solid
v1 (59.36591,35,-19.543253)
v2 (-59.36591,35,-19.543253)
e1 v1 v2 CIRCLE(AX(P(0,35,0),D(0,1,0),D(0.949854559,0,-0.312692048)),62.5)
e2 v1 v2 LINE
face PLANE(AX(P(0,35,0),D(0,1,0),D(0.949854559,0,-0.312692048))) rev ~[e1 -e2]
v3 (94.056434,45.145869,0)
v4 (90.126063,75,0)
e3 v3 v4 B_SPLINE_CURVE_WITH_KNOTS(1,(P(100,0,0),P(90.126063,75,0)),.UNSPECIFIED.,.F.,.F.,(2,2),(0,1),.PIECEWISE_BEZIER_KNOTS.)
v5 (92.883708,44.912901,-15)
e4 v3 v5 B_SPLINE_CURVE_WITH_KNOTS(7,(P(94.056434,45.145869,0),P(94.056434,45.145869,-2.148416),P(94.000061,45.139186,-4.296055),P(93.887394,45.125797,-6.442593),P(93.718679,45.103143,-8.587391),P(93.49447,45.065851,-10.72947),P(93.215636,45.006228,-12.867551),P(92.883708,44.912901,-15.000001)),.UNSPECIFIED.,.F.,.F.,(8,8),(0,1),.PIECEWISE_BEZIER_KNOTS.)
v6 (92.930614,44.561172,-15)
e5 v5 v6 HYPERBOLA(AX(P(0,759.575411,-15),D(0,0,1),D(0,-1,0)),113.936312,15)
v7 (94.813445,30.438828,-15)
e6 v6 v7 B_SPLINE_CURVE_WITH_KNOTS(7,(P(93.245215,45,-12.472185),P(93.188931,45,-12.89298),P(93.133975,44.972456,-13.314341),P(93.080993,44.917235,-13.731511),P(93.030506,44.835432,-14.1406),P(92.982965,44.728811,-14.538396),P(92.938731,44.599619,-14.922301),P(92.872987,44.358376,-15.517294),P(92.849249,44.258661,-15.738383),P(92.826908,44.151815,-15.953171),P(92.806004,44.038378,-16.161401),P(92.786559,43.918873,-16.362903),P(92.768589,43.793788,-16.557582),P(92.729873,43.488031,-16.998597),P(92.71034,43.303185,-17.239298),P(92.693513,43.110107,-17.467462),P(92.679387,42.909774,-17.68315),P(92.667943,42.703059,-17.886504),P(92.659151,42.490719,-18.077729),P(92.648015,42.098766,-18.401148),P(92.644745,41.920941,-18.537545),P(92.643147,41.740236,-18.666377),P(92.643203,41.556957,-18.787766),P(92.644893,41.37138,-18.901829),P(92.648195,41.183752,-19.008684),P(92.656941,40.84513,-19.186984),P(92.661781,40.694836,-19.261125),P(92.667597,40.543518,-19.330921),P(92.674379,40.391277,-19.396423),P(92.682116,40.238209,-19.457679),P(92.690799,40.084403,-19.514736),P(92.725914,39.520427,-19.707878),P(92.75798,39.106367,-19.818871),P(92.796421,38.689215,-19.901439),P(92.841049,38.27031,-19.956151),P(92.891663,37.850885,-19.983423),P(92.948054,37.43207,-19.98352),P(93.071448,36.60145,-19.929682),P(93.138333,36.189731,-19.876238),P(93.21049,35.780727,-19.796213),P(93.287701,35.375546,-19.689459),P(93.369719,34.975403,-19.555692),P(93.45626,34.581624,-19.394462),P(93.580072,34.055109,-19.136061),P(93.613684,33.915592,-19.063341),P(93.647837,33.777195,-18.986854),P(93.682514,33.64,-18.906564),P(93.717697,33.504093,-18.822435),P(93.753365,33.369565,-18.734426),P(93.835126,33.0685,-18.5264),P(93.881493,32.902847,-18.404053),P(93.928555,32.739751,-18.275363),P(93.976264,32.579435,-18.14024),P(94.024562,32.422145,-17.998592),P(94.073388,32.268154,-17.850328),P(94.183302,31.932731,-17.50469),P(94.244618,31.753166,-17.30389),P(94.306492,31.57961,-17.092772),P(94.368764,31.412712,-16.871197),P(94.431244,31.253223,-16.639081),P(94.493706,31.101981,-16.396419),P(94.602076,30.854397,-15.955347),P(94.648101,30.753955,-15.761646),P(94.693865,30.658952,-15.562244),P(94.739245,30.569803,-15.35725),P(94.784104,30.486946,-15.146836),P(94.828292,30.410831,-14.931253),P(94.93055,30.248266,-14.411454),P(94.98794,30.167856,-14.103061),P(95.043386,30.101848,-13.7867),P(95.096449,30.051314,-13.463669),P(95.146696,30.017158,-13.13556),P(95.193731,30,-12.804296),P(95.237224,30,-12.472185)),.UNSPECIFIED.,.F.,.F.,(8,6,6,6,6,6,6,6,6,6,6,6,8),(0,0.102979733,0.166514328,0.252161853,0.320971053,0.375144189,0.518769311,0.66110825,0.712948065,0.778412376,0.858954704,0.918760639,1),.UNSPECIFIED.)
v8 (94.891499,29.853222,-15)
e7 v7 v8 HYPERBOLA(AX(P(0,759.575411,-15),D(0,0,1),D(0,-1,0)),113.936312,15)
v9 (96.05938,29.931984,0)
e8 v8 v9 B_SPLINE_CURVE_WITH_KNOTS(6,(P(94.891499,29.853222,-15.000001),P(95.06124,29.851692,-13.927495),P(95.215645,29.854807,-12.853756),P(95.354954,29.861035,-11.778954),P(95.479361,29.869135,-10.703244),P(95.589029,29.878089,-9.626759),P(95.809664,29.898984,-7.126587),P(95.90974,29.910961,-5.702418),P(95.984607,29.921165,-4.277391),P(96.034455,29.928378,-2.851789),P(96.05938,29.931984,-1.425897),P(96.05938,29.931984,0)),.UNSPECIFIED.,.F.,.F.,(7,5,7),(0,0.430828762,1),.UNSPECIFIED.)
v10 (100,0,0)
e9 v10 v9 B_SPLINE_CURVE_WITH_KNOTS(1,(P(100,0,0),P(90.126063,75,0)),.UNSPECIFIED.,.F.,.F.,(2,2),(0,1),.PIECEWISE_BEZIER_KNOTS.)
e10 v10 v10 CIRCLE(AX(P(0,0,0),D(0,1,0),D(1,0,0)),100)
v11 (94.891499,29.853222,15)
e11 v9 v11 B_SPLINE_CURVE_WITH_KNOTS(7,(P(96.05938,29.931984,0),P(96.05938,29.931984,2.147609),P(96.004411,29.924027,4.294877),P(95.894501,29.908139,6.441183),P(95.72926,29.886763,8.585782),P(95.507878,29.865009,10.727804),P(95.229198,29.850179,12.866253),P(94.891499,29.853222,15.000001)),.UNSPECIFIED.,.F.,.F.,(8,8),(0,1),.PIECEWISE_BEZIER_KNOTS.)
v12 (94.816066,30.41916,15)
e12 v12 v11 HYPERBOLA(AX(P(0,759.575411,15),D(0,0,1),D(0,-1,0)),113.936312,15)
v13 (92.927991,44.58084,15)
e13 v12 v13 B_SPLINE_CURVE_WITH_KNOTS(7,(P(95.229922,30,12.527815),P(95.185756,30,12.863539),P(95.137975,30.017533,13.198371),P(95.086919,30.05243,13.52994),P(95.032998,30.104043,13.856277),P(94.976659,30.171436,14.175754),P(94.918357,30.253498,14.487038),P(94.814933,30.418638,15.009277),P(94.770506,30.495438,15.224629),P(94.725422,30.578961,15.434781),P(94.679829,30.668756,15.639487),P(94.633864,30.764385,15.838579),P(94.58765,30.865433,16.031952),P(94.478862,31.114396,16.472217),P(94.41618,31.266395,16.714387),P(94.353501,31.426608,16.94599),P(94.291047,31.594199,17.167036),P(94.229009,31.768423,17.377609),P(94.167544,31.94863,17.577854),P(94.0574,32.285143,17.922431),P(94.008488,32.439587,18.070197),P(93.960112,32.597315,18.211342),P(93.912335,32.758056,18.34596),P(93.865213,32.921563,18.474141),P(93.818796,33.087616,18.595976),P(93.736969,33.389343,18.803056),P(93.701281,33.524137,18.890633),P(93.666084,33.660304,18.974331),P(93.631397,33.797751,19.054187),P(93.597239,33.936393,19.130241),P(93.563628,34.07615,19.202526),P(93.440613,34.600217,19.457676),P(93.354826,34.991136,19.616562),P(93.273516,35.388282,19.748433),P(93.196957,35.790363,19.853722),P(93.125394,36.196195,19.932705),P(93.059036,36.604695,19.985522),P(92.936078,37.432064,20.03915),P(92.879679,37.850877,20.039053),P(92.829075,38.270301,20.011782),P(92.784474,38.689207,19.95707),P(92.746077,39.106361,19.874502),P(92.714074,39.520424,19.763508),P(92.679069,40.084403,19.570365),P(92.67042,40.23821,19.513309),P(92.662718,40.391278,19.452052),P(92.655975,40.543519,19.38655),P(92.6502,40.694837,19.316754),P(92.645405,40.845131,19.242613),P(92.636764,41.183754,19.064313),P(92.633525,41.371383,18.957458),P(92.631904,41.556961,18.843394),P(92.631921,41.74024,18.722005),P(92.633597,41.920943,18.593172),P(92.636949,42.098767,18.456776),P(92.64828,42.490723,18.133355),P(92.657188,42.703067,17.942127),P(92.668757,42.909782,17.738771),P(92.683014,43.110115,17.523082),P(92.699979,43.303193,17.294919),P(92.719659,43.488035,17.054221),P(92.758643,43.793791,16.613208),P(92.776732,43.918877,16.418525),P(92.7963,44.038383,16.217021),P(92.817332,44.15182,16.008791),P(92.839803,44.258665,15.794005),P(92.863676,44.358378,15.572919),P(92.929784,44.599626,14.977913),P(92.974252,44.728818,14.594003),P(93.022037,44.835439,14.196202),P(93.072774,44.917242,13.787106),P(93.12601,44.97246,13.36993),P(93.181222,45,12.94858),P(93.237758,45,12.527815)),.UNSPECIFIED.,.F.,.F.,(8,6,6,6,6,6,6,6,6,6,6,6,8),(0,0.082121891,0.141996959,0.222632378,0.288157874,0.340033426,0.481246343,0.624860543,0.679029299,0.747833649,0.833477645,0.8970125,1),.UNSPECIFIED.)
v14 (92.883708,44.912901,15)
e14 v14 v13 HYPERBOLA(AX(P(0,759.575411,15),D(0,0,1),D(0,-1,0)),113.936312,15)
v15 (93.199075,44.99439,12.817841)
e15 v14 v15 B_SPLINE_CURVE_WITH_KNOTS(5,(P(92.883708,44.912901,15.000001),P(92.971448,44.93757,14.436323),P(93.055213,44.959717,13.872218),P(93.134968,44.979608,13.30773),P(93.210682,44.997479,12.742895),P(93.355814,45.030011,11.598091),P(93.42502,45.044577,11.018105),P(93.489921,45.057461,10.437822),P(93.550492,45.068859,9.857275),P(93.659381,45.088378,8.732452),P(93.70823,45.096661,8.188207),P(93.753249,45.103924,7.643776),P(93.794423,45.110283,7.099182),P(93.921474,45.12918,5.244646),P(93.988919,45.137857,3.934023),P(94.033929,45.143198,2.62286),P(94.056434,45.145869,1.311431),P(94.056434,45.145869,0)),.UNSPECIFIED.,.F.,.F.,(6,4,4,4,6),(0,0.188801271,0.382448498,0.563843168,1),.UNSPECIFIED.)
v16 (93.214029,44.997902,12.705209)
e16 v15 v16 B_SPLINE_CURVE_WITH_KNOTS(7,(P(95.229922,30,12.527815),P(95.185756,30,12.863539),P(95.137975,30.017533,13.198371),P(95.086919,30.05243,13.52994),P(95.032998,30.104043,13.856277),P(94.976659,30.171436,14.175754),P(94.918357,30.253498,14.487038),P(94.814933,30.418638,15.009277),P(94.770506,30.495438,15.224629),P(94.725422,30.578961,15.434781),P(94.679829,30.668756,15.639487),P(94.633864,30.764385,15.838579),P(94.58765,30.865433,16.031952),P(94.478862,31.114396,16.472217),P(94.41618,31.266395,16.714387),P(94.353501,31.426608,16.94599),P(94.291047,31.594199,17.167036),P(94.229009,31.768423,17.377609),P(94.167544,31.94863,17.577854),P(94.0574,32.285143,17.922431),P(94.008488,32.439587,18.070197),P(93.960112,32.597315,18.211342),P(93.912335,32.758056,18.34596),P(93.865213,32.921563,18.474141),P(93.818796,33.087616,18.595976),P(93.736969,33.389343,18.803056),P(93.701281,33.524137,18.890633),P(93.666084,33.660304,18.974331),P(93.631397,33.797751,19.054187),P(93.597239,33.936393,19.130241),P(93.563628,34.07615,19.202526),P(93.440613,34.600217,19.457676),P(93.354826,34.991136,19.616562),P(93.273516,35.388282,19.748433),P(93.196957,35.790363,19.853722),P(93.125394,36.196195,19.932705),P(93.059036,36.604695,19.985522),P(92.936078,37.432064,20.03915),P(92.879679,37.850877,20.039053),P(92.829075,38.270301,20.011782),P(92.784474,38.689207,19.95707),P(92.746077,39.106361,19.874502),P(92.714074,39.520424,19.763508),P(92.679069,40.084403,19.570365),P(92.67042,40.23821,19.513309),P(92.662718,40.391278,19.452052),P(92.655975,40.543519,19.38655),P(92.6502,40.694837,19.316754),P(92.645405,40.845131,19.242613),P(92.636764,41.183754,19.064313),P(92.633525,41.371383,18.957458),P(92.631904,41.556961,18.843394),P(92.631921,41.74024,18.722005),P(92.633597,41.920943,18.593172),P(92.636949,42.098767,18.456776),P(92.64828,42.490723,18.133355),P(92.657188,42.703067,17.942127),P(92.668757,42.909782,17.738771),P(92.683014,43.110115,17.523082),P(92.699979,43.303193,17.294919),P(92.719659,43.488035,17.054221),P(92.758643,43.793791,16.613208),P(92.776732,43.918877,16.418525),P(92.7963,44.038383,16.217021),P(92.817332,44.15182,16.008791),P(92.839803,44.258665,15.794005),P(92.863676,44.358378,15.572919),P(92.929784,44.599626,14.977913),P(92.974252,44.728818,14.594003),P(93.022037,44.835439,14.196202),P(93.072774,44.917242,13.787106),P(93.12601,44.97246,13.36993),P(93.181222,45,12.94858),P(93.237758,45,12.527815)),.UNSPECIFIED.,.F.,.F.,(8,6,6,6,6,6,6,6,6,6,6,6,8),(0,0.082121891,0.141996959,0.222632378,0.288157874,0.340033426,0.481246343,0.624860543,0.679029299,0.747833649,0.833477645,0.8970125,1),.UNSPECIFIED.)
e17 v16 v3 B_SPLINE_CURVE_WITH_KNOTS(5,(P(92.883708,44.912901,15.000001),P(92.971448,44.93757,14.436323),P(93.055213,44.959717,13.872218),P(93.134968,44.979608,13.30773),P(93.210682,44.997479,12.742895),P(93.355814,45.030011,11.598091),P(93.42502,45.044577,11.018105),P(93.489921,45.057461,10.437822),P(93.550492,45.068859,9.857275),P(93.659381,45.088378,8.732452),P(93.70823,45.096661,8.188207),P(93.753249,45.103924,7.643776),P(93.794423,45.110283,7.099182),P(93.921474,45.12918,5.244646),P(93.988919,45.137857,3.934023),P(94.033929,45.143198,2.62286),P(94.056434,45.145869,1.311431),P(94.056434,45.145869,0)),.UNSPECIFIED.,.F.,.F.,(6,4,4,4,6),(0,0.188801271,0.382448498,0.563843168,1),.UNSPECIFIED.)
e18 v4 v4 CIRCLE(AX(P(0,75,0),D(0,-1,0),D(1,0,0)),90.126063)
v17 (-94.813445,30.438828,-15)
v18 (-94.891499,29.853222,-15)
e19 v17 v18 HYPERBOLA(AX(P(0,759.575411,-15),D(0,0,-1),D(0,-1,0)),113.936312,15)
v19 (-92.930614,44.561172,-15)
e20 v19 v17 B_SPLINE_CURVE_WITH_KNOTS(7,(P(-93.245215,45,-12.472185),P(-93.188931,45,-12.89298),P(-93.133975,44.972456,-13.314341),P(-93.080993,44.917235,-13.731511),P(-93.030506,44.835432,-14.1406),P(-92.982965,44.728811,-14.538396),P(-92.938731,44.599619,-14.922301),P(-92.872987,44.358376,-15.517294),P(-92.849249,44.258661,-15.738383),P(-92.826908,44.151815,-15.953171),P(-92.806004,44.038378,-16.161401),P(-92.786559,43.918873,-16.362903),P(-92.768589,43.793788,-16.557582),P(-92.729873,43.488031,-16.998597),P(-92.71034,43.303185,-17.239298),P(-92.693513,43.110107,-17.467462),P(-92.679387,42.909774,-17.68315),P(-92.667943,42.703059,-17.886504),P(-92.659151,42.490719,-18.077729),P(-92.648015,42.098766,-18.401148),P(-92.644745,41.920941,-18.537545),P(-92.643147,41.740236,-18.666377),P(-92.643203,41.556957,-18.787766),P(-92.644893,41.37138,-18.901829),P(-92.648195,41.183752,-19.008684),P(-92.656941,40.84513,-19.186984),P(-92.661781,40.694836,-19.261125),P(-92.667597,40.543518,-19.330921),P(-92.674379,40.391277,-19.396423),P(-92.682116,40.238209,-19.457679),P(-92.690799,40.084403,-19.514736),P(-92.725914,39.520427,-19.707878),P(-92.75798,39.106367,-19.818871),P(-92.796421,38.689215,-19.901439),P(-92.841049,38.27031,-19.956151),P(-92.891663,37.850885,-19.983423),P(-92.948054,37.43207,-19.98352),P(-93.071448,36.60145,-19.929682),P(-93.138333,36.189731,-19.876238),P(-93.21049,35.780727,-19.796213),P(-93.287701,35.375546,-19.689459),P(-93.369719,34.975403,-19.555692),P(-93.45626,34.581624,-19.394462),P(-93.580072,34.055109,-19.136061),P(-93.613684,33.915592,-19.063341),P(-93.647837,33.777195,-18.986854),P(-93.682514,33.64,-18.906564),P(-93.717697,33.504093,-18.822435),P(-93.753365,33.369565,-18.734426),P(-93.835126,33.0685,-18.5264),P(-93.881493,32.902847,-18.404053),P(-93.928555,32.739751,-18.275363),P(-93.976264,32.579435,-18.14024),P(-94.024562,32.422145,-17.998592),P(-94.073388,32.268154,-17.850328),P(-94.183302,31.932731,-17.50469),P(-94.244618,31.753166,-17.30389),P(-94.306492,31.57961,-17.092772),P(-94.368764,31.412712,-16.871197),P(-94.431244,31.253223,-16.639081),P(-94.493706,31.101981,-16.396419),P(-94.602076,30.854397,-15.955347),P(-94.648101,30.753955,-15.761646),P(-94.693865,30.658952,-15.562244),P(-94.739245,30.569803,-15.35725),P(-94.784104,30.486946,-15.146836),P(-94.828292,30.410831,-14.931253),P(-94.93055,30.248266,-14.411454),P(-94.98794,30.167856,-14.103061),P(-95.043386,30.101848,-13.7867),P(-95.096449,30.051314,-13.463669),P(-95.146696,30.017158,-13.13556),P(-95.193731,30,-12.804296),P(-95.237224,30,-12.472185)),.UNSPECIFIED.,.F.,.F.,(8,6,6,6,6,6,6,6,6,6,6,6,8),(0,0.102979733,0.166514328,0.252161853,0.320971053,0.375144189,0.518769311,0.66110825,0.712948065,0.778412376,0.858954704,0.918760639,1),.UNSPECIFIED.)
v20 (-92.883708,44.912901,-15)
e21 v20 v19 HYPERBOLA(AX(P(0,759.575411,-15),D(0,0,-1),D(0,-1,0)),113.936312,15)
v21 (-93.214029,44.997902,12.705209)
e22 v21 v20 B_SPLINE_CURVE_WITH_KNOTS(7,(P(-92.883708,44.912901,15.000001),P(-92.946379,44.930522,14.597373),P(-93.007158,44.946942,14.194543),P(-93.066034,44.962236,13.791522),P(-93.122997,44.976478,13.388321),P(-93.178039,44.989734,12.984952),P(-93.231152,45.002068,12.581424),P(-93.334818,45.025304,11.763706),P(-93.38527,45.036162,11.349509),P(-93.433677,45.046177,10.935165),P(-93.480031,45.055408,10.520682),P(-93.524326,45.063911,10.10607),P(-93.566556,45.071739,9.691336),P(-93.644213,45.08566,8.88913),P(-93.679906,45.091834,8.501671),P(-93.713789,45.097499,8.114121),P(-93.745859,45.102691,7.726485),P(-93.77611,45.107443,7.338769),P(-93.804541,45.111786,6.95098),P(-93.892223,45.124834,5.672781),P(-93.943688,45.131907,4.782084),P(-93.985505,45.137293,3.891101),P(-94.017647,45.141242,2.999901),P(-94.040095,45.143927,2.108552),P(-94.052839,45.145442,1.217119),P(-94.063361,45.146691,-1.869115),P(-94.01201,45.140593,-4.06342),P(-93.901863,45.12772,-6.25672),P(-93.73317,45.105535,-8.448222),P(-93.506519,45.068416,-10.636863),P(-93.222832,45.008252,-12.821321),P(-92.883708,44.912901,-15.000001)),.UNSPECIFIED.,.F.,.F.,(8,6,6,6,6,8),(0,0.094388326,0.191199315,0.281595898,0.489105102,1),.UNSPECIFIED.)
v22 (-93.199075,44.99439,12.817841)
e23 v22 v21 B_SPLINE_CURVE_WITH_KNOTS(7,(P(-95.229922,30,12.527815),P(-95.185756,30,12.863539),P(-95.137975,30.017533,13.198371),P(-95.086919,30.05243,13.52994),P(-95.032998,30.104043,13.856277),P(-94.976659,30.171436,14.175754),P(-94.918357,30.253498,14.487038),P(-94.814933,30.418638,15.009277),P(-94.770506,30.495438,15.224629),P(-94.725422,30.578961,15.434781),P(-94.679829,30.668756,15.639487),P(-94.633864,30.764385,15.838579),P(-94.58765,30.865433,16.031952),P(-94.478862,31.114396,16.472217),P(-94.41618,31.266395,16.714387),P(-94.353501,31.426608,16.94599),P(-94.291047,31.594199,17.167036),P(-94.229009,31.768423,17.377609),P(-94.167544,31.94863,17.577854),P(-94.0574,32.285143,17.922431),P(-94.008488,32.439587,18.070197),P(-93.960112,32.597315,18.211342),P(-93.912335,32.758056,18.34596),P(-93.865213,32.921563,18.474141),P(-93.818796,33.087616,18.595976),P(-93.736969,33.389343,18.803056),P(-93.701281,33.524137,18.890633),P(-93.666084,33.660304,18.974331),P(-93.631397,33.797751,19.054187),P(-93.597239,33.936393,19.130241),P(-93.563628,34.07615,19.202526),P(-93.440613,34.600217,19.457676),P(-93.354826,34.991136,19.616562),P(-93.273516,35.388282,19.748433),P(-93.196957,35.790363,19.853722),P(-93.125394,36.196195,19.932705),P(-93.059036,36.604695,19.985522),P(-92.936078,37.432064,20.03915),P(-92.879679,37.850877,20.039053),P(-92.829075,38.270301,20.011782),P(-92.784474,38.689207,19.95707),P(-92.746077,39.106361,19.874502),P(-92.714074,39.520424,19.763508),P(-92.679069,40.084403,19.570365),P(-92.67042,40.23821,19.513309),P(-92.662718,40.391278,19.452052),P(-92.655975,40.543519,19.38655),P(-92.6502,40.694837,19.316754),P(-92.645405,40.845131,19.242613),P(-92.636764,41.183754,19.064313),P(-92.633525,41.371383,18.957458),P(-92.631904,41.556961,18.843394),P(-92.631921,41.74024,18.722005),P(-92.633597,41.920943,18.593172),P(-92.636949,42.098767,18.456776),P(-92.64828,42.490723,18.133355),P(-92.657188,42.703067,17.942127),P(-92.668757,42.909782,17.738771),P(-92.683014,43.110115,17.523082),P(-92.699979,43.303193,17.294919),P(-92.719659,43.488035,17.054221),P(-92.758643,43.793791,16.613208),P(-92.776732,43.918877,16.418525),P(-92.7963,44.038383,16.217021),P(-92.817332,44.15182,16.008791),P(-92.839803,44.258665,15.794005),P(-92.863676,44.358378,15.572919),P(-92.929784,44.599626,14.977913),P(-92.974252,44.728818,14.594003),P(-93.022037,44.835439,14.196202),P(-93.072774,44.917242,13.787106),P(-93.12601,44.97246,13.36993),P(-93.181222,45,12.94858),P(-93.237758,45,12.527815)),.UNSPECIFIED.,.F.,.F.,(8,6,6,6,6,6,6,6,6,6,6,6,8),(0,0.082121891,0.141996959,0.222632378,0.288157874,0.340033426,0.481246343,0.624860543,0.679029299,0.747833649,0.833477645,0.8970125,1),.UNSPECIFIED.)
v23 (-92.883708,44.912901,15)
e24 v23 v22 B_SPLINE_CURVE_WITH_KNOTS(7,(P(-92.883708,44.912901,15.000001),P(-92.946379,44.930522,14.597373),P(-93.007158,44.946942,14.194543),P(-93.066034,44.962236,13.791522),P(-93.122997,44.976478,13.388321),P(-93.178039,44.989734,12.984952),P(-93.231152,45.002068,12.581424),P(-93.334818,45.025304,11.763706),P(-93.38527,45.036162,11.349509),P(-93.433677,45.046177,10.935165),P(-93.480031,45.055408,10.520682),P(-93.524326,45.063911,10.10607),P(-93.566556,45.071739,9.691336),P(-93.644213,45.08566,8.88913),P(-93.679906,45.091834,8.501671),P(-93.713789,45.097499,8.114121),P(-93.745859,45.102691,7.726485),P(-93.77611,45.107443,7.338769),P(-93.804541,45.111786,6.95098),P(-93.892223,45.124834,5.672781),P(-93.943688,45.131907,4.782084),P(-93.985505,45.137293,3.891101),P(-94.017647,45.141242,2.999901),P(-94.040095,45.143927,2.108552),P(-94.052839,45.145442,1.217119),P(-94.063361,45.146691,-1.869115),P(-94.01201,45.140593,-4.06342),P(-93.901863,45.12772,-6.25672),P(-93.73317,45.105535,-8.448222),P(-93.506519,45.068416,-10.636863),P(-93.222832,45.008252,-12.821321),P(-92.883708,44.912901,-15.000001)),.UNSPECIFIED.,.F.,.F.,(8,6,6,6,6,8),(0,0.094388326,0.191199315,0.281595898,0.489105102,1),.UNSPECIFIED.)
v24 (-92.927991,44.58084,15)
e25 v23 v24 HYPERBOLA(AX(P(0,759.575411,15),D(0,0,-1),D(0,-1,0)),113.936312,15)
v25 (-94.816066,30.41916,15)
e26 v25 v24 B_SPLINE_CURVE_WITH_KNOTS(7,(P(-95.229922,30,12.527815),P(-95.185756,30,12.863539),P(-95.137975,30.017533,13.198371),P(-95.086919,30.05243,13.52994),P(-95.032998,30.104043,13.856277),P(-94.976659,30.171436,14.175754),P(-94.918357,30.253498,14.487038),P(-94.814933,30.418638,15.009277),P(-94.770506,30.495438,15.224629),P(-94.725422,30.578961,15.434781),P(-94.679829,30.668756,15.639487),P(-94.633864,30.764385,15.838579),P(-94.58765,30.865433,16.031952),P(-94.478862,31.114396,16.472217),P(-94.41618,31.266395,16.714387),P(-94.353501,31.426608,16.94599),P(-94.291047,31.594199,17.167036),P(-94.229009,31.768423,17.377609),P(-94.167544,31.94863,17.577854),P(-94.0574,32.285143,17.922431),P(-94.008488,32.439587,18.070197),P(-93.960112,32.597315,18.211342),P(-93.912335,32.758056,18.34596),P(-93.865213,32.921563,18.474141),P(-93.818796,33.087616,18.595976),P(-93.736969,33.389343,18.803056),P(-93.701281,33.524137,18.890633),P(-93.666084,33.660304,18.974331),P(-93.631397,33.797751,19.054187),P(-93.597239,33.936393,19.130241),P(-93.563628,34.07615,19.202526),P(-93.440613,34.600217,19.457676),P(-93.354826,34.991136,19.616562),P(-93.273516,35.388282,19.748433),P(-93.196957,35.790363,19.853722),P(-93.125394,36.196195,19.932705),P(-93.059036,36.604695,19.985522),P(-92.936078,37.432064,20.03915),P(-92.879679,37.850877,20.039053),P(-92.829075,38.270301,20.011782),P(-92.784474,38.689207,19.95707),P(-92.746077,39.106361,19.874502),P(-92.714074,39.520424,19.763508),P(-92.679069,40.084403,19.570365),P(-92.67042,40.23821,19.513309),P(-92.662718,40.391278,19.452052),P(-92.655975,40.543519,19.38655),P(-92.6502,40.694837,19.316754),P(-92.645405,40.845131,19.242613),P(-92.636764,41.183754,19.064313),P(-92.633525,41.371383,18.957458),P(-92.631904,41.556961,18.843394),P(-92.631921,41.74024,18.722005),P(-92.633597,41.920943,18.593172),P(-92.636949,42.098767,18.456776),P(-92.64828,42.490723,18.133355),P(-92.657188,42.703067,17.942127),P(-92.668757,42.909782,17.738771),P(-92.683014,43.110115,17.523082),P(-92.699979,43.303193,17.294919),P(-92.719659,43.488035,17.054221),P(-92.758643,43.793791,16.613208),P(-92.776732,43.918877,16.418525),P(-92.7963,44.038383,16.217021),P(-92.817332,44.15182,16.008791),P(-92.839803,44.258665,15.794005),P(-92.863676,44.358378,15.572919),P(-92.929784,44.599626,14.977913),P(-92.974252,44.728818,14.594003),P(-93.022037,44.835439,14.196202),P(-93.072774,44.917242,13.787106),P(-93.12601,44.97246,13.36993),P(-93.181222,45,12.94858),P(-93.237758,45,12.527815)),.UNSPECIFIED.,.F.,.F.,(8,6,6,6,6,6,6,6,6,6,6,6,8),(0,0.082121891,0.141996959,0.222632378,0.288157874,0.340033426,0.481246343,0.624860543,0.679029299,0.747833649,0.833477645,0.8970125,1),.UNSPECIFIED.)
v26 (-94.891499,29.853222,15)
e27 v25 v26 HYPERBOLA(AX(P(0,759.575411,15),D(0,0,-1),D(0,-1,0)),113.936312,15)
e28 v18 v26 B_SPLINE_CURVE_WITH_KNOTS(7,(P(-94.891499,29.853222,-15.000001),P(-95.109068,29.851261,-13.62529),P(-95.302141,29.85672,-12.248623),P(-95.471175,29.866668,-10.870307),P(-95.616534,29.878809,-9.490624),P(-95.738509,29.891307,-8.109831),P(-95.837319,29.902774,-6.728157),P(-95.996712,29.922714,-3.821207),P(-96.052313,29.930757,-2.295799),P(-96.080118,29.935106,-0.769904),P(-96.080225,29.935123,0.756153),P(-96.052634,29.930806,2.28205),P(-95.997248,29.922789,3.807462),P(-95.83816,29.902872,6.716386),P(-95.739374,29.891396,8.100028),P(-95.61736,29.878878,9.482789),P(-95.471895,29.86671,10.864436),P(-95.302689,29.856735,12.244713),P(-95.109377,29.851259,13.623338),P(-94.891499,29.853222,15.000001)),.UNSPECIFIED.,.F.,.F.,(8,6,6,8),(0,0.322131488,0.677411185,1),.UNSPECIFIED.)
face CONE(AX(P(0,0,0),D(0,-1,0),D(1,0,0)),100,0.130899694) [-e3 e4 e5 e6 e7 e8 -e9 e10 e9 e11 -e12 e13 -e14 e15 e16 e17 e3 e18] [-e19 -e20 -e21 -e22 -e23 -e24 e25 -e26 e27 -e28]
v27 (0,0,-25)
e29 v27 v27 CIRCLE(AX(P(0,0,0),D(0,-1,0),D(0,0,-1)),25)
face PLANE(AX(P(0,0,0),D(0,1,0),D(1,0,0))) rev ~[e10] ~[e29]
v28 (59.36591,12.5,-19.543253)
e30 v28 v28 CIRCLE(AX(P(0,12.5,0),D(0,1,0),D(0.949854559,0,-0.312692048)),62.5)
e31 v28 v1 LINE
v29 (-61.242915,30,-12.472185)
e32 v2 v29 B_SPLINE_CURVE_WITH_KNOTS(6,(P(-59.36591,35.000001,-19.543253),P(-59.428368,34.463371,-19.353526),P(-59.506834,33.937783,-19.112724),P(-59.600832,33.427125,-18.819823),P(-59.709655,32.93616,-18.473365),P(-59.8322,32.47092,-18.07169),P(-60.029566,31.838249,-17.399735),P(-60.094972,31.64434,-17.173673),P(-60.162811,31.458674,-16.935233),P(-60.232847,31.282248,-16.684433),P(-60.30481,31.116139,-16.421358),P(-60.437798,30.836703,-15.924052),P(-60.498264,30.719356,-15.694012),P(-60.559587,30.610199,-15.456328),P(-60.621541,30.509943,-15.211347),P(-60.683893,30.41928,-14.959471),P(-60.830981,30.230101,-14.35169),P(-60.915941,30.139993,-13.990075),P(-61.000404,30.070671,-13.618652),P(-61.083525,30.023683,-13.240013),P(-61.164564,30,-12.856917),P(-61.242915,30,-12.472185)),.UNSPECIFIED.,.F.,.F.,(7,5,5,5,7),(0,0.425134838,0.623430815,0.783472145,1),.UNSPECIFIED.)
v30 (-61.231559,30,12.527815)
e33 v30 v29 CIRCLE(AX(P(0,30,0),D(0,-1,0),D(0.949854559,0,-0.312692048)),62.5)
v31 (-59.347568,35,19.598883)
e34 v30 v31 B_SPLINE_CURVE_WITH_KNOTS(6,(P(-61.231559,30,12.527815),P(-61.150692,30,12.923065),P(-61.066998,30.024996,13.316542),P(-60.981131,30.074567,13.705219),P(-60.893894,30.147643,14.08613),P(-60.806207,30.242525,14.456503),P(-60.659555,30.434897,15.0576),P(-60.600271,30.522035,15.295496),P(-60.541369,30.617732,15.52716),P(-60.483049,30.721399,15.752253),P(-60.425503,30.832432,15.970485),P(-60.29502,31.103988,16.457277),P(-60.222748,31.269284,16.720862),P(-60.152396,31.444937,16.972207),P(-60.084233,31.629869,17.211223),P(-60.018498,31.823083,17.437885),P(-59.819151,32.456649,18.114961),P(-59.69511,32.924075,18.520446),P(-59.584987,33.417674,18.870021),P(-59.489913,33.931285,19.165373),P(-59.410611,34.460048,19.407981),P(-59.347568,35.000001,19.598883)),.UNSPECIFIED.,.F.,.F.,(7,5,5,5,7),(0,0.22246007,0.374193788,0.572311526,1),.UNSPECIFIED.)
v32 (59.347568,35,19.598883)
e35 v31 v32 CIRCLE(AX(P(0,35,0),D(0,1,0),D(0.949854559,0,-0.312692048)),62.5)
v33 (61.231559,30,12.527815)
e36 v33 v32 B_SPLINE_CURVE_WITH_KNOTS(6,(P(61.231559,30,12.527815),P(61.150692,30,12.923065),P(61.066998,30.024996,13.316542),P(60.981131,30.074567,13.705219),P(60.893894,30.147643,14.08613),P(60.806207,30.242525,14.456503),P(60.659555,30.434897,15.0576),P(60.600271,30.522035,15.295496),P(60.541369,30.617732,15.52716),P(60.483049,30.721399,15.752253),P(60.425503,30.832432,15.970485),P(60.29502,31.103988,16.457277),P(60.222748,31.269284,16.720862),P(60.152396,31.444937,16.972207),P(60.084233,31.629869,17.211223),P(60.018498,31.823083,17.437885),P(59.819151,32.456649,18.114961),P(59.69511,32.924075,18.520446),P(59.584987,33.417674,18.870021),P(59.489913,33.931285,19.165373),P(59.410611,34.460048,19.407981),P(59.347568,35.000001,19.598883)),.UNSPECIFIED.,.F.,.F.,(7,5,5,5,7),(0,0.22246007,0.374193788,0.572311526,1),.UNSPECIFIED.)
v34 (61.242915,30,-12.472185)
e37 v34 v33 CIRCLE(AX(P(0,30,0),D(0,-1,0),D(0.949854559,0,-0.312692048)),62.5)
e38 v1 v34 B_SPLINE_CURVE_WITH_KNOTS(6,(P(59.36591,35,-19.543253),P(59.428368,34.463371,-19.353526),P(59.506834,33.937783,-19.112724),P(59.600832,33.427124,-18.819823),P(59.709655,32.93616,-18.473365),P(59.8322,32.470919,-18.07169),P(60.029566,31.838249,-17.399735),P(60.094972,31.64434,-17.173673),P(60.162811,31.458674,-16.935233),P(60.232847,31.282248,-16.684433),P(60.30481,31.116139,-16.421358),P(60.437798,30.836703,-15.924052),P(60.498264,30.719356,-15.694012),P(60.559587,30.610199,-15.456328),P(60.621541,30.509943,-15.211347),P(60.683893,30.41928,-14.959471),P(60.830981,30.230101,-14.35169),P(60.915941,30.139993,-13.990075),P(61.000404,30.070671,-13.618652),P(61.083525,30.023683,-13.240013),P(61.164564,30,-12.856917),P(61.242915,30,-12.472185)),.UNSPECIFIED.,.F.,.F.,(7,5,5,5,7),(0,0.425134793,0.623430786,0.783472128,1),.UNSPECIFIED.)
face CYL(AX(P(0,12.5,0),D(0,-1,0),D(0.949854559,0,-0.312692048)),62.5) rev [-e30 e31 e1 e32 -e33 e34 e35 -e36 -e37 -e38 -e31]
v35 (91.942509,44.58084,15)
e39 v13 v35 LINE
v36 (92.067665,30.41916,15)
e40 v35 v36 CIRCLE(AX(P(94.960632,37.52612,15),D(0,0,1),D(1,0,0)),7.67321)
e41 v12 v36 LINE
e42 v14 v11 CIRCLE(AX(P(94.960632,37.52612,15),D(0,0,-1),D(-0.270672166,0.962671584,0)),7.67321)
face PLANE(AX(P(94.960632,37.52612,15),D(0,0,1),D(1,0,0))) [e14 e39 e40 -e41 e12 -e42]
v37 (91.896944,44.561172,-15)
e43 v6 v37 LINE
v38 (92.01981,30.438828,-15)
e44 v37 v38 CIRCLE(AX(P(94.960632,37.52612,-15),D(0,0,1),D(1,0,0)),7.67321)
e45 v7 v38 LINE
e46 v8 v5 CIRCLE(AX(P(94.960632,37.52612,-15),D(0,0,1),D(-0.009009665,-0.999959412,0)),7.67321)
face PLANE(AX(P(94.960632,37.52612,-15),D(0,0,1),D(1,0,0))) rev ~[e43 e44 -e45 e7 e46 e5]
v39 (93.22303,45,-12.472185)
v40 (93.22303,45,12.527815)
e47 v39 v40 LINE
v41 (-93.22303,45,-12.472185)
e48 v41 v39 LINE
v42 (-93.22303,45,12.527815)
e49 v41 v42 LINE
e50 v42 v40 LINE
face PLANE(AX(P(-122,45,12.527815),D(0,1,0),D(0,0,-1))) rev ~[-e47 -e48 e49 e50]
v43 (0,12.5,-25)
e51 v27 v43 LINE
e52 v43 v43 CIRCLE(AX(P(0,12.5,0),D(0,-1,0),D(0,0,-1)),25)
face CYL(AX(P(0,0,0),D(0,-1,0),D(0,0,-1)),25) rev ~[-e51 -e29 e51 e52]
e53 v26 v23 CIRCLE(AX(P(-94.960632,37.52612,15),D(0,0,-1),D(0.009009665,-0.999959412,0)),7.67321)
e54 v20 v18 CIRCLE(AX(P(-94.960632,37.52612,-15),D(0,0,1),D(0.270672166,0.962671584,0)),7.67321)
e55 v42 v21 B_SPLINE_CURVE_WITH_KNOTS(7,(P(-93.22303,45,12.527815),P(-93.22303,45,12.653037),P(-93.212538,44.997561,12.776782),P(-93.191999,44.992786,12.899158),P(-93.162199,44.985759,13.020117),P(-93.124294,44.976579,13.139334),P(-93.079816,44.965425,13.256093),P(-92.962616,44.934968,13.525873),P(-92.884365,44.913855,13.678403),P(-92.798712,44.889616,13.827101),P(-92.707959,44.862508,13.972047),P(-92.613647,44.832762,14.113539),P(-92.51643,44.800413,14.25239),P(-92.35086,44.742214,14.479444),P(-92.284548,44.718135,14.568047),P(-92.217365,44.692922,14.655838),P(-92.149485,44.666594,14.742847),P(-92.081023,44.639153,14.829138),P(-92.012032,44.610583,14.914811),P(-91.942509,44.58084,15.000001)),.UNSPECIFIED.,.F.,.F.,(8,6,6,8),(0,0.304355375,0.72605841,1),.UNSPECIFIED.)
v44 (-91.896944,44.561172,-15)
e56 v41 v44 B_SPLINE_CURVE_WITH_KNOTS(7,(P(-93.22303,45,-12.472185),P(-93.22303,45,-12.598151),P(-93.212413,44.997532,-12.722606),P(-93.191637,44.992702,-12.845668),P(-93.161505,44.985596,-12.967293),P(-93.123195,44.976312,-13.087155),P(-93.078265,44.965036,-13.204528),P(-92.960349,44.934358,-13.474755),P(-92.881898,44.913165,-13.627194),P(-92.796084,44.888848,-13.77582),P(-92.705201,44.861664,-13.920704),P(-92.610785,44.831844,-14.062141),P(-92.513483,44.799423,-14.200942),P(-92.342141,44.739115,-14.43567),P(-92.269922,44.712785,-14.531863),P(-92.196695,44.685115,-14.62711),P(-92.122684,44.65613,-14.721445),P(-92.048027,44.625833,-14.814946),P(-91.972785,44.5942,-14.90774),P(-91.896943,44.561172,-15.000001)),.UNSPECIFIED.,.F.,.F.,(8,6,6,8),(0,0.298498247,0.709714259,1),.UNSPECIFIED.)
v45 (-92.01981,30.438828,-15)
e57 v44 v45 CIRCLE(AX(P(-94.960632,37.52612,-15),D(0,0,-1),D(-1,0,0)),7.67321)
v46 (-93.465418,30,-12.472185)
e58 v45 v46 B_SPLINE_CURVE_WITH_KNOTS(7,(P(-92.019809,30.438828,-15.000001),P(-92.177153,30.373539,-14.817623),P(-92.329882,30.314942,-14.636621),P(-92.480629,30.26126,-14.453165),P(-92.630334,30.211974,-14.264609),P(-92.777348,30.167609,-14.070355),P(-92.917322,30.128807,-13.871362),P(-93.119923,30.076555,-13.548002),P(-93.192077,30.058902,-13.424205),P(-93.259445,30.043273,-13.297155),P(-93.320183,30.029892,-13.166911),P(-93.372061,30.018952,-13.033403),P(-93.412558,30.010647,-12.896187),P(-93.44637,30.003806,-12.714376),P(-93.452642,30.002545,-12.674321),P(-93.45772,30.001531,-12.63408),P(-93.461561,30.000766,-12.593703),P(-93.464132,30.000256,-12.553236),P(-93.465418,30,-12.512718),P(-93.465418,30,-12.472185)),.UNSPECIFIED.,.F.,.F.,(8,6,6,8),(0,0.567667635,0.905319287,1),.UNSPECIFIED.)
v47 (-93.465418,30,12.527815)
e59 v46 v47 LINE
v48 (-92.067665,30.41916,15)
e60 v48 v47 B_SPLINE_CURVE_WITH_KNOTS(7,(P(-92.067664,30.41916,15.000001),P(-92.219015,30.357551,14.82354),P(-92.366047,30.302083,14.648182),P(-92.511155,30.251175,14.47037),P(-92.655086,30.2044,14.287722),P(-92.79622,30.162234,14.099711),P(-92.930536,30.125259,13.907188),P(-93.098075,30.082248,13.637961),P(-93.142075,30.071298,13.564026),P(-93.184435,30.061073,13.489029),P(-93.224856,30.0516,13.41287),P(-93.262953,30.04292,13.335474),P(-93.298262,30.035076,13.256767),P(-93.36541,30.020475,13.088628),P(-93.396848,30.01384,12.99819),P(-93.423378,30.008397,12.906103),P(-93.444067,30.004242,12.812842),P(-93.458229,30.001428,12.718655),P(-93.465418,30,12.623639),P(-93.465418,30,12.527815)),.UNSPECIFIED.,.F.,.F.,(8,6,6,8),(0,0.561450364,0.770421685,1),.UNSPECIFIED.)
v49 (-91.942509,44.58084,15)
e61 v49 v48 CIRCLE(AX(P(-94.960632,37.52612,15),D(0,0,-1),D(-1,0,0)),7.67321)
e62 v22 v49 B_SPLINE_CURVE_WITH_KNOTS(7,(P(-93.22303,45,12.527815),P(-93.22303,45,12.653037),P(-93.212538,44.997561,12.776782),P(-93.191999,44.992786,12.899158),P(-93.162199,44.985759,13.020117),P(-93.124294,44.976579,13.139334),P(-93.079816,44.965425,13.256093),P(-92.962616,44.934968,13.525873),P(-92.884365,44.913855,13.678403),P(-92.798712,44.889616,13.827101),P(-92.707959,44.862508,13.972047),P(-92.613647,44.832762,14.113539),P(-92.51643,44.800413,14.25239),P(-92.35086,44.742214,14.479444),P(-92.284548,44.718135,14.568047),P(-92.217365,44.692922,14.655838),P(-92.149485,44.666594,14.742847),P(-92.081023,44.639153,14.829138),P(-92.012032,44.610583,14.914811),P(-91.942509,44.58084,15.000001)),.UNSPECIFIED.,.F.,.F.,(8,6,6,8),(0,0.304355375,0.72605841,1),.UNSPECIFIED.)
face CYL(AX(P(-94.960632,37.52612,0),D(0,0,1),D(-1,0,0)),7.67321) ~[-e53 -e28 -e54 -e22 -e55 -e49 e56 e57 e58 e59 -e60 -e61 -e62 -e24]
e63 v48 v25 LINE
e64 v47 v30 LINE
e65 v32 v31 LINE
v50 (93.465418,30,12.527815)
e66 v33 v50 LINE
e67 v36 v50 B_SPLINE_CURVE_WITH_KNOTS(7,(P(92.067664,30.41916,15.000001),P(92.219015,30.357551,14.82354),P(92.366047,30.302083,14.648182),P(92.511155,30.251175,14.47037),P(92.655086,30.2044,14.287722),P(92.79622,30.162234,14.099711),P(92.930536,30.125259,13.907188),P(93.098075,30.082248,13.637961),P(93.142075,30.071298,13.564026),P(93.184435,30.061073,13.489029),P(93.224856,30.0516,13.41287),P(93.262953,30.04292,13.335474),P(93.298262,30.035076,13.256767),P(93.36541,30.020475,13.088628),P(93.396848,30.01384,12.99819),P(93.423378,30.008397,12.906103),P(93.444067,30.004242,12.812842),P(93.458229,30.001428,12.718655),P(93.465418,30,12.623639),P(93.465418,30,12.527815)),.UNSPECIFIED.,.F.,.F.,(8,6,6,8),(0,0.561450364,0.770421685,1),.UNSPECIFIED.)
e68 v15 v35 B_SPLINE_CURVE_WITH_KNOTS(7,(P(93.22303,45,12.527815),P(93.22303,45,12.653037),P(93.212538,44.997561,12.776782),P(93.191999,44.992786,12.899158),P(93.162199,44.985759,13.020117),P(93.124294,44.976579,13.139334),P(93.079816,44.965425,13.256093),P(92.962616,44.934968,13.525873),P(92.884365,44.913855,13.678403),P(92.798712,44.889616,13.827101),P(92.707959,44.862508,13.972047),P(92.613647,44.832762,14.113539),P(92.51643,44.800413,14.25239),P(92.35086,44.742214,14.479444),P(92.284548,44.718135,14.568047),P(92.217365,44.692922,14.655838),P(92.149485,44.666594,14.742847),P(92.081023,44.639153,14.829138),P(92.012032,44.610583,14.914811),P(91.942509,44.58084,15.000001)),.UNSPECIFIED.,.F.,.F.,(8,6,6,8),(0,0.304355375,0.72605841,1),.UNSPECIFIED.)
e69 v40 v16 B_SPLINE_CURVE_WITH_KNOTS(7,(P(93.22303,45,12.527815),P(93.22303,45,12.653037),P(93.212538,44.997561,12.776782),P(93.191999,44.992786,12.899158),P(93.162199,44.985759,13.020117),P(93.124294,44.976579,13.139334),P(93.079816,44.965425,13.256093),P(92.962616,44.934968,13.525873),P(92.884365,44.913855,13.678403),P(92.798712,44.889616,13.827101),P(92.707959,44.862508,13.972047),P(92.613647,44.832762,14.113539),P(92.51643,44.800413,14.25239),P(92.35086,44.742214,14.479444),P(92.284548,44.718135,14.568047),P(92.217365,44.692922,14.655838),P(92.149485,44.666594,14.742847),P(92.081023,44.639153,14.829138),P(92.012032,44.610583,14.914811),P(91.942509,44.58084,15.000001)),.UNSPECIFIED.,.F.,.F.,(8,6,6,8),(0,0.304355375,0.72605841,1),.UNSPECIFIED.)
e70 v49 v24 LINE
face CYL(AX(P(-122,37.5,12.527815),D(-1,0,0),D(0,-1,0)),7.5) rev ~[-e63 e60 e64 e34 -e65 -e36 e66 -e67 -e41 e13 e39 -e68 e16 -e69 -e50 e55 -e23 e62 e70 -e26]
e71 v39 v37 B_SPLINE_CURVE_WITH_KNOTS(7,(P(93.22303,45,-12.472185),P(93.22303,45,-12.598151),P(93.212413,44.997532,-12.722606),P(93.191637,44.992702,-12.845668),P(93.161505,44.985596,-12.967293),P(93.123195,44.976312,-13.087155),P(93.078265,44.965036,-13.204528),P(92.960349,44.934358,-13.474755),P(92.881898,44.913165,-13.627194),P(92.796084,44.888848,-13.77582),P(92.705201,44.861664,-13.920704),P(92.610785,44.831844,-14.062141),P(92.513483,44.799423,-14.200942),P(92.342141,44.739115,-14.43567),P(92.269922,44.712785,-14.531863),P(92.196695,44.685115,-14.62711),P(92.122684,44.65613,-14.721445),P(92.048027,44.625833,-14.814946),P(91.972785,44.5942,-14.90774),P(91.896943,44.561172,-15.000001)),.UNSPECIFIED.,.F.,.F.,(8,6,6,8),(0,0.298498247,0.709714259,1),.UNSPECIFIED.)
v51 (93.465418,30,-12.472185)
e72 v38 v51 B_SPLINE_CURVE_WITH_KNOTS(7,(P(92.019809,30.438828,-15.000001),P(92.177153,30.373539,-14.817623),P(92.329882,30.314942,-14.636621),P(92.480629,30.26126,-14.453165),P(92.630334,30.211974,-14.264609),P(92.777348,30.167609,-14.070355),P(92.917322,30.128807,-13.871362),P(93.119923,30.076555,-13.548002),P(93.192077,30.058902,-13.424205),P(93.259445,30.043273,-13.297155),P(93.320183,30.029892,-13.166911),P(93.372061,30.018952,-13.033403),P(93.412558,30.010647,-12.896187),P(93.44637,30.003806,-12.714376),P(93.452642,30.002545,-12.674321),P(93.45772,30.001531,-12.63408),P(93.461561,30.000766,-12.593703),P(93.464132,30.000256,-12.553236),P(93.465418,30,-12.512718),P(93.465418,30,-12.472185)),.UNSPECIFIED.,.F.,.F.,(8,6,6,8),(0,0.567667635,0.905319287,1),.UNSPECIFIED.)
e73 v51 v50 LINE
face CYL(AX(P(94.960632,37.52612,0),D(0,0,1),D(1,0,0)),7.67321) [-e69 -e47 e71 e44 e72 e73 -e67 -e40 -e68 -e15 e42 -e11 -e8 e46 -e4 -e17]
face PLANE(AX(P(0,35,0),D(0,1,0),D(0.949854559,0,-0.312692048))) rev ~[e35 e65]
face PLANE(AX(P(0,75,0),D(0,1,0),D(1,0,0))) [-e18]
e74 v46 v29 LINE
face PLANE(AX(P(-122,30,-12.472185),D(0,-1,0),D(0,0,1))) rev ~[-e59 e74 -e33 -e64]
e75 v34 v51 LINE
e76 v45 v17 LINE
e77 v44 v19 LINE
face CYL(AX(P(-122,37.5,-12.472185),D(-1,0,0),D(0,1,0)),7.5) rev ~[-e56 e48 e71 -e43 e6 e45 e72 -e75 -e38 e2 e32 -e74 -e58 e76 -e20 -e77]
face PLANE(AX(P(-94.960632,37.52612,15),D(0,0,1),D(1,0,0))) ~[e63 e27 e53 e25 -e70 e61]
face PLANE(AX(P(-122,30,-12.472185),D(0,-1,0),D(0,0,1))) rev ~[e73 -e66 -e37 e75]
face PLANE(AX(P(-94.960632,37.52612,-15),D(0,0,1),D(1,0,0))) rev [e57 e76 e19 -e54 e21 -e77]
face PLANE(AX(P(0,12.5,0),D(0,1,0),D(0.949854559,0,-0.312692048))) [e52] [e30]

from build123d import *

# Parameters (mm, degrees)
SKETCH1_R               = 100
BOSS_EXTRUDE1_DEPTH     = 75
BOSS_EXTRUDE1_TAPER     = 7.5
CUT_EXTRUDE1_DEPTH      = 125
CUT_EXTRUDE1_DEPTH_BACK = 122
SKETCH3_R               = 7.673209678
BOSS_EXTRUDE5_DEPTH     = 15
SKETCH5_R               = 25
CUT_EXTRUDE3_DEPTH      = 12.5
SKETCH6_R               = 62.5
CUT_EXTRUDE4_DEPTH      = 22.5


with BuildPart() as part:
    # Sketch1 → Boss-Extrude1 (new body)
    with BuildSketch(Plane(origin=(0, 0, 0), x_dir=(1, 0, 0), z_dir=(0, 1, 0))):
        Circle(SKETCH1_R)
    extrude(amount=BOSS_EXTRUDE1_DEPTH, taper=BOSS_EXTRUDE1_TAPER)

    # Sketch2 → Cut-Extrude1 (cut, two sides: drawn at the far end of the back side and taken through both)
    with BuildSketch(Plane(origin=(0, 0, 0), x_dir=(0, 0, -1), z_dir=(1, 0, 0)).offset(-CUT_EXTRUDE1_DEPTH_BACK)):
        with BuildLine():
            Line((-12.527814818, 45), (12.472185182, 45))
            ThreePointArc((12.472185182, 45), (19.972185182, 37.5), (12.472185182, 30))
            Line((12.472185182, 30), (-12.527814818, 30))
            ThreePointArc((-12.527814818, 30), (-20.027814818, 37.5), (-12.527814818, 45))
        make_face()
    extrude(amount=CUT_EXTRUDE1_DEPTH + CUT_EXTRUDE1_DEPTH_BACK, mode=Mode.SUBTRACT)

    # Sketch3 → Boss-Extrude5 (add, symmetric)
    with BuildSketch(Plane.XY):
        with Locations((94.960632329, 37.526119935)):
            Circle(SKETCH3_R)
    boss_extrude5 = extrude(amount=BOSS_EXTRUDE5_DEPTH, both=True)

    # Mirror1: Boss-Extrude5 across plane
    add(boss_extrude5.mirror(Plane(origin=(0, 0, 0), x_dir=(0, 0, 1), z_dir=(1, 0, 0))))

    # Sketch5 → Cut-Extrude3 (cut)
    with BuildSketch(Plane.XZ):
        Circle(SKETCH5_R)
    extrude(amount=-CUT_EXTRUDE3_DEPTH, mode=Mode.SUBTRACT)

    # Sketch6 → Cut-Extrude4 (cut)
    with BuildSketch(Plane(origin=(0, 12.5, 0), x_dir=(1, 0, 0), z_dir=(0, 1, 0))):
        Circle(SKETCH6_R)
    extrude(amount=CUT_EXTRUDE4_DEPTH, mode=Mode.SUBTRACT)


solid = part.part
